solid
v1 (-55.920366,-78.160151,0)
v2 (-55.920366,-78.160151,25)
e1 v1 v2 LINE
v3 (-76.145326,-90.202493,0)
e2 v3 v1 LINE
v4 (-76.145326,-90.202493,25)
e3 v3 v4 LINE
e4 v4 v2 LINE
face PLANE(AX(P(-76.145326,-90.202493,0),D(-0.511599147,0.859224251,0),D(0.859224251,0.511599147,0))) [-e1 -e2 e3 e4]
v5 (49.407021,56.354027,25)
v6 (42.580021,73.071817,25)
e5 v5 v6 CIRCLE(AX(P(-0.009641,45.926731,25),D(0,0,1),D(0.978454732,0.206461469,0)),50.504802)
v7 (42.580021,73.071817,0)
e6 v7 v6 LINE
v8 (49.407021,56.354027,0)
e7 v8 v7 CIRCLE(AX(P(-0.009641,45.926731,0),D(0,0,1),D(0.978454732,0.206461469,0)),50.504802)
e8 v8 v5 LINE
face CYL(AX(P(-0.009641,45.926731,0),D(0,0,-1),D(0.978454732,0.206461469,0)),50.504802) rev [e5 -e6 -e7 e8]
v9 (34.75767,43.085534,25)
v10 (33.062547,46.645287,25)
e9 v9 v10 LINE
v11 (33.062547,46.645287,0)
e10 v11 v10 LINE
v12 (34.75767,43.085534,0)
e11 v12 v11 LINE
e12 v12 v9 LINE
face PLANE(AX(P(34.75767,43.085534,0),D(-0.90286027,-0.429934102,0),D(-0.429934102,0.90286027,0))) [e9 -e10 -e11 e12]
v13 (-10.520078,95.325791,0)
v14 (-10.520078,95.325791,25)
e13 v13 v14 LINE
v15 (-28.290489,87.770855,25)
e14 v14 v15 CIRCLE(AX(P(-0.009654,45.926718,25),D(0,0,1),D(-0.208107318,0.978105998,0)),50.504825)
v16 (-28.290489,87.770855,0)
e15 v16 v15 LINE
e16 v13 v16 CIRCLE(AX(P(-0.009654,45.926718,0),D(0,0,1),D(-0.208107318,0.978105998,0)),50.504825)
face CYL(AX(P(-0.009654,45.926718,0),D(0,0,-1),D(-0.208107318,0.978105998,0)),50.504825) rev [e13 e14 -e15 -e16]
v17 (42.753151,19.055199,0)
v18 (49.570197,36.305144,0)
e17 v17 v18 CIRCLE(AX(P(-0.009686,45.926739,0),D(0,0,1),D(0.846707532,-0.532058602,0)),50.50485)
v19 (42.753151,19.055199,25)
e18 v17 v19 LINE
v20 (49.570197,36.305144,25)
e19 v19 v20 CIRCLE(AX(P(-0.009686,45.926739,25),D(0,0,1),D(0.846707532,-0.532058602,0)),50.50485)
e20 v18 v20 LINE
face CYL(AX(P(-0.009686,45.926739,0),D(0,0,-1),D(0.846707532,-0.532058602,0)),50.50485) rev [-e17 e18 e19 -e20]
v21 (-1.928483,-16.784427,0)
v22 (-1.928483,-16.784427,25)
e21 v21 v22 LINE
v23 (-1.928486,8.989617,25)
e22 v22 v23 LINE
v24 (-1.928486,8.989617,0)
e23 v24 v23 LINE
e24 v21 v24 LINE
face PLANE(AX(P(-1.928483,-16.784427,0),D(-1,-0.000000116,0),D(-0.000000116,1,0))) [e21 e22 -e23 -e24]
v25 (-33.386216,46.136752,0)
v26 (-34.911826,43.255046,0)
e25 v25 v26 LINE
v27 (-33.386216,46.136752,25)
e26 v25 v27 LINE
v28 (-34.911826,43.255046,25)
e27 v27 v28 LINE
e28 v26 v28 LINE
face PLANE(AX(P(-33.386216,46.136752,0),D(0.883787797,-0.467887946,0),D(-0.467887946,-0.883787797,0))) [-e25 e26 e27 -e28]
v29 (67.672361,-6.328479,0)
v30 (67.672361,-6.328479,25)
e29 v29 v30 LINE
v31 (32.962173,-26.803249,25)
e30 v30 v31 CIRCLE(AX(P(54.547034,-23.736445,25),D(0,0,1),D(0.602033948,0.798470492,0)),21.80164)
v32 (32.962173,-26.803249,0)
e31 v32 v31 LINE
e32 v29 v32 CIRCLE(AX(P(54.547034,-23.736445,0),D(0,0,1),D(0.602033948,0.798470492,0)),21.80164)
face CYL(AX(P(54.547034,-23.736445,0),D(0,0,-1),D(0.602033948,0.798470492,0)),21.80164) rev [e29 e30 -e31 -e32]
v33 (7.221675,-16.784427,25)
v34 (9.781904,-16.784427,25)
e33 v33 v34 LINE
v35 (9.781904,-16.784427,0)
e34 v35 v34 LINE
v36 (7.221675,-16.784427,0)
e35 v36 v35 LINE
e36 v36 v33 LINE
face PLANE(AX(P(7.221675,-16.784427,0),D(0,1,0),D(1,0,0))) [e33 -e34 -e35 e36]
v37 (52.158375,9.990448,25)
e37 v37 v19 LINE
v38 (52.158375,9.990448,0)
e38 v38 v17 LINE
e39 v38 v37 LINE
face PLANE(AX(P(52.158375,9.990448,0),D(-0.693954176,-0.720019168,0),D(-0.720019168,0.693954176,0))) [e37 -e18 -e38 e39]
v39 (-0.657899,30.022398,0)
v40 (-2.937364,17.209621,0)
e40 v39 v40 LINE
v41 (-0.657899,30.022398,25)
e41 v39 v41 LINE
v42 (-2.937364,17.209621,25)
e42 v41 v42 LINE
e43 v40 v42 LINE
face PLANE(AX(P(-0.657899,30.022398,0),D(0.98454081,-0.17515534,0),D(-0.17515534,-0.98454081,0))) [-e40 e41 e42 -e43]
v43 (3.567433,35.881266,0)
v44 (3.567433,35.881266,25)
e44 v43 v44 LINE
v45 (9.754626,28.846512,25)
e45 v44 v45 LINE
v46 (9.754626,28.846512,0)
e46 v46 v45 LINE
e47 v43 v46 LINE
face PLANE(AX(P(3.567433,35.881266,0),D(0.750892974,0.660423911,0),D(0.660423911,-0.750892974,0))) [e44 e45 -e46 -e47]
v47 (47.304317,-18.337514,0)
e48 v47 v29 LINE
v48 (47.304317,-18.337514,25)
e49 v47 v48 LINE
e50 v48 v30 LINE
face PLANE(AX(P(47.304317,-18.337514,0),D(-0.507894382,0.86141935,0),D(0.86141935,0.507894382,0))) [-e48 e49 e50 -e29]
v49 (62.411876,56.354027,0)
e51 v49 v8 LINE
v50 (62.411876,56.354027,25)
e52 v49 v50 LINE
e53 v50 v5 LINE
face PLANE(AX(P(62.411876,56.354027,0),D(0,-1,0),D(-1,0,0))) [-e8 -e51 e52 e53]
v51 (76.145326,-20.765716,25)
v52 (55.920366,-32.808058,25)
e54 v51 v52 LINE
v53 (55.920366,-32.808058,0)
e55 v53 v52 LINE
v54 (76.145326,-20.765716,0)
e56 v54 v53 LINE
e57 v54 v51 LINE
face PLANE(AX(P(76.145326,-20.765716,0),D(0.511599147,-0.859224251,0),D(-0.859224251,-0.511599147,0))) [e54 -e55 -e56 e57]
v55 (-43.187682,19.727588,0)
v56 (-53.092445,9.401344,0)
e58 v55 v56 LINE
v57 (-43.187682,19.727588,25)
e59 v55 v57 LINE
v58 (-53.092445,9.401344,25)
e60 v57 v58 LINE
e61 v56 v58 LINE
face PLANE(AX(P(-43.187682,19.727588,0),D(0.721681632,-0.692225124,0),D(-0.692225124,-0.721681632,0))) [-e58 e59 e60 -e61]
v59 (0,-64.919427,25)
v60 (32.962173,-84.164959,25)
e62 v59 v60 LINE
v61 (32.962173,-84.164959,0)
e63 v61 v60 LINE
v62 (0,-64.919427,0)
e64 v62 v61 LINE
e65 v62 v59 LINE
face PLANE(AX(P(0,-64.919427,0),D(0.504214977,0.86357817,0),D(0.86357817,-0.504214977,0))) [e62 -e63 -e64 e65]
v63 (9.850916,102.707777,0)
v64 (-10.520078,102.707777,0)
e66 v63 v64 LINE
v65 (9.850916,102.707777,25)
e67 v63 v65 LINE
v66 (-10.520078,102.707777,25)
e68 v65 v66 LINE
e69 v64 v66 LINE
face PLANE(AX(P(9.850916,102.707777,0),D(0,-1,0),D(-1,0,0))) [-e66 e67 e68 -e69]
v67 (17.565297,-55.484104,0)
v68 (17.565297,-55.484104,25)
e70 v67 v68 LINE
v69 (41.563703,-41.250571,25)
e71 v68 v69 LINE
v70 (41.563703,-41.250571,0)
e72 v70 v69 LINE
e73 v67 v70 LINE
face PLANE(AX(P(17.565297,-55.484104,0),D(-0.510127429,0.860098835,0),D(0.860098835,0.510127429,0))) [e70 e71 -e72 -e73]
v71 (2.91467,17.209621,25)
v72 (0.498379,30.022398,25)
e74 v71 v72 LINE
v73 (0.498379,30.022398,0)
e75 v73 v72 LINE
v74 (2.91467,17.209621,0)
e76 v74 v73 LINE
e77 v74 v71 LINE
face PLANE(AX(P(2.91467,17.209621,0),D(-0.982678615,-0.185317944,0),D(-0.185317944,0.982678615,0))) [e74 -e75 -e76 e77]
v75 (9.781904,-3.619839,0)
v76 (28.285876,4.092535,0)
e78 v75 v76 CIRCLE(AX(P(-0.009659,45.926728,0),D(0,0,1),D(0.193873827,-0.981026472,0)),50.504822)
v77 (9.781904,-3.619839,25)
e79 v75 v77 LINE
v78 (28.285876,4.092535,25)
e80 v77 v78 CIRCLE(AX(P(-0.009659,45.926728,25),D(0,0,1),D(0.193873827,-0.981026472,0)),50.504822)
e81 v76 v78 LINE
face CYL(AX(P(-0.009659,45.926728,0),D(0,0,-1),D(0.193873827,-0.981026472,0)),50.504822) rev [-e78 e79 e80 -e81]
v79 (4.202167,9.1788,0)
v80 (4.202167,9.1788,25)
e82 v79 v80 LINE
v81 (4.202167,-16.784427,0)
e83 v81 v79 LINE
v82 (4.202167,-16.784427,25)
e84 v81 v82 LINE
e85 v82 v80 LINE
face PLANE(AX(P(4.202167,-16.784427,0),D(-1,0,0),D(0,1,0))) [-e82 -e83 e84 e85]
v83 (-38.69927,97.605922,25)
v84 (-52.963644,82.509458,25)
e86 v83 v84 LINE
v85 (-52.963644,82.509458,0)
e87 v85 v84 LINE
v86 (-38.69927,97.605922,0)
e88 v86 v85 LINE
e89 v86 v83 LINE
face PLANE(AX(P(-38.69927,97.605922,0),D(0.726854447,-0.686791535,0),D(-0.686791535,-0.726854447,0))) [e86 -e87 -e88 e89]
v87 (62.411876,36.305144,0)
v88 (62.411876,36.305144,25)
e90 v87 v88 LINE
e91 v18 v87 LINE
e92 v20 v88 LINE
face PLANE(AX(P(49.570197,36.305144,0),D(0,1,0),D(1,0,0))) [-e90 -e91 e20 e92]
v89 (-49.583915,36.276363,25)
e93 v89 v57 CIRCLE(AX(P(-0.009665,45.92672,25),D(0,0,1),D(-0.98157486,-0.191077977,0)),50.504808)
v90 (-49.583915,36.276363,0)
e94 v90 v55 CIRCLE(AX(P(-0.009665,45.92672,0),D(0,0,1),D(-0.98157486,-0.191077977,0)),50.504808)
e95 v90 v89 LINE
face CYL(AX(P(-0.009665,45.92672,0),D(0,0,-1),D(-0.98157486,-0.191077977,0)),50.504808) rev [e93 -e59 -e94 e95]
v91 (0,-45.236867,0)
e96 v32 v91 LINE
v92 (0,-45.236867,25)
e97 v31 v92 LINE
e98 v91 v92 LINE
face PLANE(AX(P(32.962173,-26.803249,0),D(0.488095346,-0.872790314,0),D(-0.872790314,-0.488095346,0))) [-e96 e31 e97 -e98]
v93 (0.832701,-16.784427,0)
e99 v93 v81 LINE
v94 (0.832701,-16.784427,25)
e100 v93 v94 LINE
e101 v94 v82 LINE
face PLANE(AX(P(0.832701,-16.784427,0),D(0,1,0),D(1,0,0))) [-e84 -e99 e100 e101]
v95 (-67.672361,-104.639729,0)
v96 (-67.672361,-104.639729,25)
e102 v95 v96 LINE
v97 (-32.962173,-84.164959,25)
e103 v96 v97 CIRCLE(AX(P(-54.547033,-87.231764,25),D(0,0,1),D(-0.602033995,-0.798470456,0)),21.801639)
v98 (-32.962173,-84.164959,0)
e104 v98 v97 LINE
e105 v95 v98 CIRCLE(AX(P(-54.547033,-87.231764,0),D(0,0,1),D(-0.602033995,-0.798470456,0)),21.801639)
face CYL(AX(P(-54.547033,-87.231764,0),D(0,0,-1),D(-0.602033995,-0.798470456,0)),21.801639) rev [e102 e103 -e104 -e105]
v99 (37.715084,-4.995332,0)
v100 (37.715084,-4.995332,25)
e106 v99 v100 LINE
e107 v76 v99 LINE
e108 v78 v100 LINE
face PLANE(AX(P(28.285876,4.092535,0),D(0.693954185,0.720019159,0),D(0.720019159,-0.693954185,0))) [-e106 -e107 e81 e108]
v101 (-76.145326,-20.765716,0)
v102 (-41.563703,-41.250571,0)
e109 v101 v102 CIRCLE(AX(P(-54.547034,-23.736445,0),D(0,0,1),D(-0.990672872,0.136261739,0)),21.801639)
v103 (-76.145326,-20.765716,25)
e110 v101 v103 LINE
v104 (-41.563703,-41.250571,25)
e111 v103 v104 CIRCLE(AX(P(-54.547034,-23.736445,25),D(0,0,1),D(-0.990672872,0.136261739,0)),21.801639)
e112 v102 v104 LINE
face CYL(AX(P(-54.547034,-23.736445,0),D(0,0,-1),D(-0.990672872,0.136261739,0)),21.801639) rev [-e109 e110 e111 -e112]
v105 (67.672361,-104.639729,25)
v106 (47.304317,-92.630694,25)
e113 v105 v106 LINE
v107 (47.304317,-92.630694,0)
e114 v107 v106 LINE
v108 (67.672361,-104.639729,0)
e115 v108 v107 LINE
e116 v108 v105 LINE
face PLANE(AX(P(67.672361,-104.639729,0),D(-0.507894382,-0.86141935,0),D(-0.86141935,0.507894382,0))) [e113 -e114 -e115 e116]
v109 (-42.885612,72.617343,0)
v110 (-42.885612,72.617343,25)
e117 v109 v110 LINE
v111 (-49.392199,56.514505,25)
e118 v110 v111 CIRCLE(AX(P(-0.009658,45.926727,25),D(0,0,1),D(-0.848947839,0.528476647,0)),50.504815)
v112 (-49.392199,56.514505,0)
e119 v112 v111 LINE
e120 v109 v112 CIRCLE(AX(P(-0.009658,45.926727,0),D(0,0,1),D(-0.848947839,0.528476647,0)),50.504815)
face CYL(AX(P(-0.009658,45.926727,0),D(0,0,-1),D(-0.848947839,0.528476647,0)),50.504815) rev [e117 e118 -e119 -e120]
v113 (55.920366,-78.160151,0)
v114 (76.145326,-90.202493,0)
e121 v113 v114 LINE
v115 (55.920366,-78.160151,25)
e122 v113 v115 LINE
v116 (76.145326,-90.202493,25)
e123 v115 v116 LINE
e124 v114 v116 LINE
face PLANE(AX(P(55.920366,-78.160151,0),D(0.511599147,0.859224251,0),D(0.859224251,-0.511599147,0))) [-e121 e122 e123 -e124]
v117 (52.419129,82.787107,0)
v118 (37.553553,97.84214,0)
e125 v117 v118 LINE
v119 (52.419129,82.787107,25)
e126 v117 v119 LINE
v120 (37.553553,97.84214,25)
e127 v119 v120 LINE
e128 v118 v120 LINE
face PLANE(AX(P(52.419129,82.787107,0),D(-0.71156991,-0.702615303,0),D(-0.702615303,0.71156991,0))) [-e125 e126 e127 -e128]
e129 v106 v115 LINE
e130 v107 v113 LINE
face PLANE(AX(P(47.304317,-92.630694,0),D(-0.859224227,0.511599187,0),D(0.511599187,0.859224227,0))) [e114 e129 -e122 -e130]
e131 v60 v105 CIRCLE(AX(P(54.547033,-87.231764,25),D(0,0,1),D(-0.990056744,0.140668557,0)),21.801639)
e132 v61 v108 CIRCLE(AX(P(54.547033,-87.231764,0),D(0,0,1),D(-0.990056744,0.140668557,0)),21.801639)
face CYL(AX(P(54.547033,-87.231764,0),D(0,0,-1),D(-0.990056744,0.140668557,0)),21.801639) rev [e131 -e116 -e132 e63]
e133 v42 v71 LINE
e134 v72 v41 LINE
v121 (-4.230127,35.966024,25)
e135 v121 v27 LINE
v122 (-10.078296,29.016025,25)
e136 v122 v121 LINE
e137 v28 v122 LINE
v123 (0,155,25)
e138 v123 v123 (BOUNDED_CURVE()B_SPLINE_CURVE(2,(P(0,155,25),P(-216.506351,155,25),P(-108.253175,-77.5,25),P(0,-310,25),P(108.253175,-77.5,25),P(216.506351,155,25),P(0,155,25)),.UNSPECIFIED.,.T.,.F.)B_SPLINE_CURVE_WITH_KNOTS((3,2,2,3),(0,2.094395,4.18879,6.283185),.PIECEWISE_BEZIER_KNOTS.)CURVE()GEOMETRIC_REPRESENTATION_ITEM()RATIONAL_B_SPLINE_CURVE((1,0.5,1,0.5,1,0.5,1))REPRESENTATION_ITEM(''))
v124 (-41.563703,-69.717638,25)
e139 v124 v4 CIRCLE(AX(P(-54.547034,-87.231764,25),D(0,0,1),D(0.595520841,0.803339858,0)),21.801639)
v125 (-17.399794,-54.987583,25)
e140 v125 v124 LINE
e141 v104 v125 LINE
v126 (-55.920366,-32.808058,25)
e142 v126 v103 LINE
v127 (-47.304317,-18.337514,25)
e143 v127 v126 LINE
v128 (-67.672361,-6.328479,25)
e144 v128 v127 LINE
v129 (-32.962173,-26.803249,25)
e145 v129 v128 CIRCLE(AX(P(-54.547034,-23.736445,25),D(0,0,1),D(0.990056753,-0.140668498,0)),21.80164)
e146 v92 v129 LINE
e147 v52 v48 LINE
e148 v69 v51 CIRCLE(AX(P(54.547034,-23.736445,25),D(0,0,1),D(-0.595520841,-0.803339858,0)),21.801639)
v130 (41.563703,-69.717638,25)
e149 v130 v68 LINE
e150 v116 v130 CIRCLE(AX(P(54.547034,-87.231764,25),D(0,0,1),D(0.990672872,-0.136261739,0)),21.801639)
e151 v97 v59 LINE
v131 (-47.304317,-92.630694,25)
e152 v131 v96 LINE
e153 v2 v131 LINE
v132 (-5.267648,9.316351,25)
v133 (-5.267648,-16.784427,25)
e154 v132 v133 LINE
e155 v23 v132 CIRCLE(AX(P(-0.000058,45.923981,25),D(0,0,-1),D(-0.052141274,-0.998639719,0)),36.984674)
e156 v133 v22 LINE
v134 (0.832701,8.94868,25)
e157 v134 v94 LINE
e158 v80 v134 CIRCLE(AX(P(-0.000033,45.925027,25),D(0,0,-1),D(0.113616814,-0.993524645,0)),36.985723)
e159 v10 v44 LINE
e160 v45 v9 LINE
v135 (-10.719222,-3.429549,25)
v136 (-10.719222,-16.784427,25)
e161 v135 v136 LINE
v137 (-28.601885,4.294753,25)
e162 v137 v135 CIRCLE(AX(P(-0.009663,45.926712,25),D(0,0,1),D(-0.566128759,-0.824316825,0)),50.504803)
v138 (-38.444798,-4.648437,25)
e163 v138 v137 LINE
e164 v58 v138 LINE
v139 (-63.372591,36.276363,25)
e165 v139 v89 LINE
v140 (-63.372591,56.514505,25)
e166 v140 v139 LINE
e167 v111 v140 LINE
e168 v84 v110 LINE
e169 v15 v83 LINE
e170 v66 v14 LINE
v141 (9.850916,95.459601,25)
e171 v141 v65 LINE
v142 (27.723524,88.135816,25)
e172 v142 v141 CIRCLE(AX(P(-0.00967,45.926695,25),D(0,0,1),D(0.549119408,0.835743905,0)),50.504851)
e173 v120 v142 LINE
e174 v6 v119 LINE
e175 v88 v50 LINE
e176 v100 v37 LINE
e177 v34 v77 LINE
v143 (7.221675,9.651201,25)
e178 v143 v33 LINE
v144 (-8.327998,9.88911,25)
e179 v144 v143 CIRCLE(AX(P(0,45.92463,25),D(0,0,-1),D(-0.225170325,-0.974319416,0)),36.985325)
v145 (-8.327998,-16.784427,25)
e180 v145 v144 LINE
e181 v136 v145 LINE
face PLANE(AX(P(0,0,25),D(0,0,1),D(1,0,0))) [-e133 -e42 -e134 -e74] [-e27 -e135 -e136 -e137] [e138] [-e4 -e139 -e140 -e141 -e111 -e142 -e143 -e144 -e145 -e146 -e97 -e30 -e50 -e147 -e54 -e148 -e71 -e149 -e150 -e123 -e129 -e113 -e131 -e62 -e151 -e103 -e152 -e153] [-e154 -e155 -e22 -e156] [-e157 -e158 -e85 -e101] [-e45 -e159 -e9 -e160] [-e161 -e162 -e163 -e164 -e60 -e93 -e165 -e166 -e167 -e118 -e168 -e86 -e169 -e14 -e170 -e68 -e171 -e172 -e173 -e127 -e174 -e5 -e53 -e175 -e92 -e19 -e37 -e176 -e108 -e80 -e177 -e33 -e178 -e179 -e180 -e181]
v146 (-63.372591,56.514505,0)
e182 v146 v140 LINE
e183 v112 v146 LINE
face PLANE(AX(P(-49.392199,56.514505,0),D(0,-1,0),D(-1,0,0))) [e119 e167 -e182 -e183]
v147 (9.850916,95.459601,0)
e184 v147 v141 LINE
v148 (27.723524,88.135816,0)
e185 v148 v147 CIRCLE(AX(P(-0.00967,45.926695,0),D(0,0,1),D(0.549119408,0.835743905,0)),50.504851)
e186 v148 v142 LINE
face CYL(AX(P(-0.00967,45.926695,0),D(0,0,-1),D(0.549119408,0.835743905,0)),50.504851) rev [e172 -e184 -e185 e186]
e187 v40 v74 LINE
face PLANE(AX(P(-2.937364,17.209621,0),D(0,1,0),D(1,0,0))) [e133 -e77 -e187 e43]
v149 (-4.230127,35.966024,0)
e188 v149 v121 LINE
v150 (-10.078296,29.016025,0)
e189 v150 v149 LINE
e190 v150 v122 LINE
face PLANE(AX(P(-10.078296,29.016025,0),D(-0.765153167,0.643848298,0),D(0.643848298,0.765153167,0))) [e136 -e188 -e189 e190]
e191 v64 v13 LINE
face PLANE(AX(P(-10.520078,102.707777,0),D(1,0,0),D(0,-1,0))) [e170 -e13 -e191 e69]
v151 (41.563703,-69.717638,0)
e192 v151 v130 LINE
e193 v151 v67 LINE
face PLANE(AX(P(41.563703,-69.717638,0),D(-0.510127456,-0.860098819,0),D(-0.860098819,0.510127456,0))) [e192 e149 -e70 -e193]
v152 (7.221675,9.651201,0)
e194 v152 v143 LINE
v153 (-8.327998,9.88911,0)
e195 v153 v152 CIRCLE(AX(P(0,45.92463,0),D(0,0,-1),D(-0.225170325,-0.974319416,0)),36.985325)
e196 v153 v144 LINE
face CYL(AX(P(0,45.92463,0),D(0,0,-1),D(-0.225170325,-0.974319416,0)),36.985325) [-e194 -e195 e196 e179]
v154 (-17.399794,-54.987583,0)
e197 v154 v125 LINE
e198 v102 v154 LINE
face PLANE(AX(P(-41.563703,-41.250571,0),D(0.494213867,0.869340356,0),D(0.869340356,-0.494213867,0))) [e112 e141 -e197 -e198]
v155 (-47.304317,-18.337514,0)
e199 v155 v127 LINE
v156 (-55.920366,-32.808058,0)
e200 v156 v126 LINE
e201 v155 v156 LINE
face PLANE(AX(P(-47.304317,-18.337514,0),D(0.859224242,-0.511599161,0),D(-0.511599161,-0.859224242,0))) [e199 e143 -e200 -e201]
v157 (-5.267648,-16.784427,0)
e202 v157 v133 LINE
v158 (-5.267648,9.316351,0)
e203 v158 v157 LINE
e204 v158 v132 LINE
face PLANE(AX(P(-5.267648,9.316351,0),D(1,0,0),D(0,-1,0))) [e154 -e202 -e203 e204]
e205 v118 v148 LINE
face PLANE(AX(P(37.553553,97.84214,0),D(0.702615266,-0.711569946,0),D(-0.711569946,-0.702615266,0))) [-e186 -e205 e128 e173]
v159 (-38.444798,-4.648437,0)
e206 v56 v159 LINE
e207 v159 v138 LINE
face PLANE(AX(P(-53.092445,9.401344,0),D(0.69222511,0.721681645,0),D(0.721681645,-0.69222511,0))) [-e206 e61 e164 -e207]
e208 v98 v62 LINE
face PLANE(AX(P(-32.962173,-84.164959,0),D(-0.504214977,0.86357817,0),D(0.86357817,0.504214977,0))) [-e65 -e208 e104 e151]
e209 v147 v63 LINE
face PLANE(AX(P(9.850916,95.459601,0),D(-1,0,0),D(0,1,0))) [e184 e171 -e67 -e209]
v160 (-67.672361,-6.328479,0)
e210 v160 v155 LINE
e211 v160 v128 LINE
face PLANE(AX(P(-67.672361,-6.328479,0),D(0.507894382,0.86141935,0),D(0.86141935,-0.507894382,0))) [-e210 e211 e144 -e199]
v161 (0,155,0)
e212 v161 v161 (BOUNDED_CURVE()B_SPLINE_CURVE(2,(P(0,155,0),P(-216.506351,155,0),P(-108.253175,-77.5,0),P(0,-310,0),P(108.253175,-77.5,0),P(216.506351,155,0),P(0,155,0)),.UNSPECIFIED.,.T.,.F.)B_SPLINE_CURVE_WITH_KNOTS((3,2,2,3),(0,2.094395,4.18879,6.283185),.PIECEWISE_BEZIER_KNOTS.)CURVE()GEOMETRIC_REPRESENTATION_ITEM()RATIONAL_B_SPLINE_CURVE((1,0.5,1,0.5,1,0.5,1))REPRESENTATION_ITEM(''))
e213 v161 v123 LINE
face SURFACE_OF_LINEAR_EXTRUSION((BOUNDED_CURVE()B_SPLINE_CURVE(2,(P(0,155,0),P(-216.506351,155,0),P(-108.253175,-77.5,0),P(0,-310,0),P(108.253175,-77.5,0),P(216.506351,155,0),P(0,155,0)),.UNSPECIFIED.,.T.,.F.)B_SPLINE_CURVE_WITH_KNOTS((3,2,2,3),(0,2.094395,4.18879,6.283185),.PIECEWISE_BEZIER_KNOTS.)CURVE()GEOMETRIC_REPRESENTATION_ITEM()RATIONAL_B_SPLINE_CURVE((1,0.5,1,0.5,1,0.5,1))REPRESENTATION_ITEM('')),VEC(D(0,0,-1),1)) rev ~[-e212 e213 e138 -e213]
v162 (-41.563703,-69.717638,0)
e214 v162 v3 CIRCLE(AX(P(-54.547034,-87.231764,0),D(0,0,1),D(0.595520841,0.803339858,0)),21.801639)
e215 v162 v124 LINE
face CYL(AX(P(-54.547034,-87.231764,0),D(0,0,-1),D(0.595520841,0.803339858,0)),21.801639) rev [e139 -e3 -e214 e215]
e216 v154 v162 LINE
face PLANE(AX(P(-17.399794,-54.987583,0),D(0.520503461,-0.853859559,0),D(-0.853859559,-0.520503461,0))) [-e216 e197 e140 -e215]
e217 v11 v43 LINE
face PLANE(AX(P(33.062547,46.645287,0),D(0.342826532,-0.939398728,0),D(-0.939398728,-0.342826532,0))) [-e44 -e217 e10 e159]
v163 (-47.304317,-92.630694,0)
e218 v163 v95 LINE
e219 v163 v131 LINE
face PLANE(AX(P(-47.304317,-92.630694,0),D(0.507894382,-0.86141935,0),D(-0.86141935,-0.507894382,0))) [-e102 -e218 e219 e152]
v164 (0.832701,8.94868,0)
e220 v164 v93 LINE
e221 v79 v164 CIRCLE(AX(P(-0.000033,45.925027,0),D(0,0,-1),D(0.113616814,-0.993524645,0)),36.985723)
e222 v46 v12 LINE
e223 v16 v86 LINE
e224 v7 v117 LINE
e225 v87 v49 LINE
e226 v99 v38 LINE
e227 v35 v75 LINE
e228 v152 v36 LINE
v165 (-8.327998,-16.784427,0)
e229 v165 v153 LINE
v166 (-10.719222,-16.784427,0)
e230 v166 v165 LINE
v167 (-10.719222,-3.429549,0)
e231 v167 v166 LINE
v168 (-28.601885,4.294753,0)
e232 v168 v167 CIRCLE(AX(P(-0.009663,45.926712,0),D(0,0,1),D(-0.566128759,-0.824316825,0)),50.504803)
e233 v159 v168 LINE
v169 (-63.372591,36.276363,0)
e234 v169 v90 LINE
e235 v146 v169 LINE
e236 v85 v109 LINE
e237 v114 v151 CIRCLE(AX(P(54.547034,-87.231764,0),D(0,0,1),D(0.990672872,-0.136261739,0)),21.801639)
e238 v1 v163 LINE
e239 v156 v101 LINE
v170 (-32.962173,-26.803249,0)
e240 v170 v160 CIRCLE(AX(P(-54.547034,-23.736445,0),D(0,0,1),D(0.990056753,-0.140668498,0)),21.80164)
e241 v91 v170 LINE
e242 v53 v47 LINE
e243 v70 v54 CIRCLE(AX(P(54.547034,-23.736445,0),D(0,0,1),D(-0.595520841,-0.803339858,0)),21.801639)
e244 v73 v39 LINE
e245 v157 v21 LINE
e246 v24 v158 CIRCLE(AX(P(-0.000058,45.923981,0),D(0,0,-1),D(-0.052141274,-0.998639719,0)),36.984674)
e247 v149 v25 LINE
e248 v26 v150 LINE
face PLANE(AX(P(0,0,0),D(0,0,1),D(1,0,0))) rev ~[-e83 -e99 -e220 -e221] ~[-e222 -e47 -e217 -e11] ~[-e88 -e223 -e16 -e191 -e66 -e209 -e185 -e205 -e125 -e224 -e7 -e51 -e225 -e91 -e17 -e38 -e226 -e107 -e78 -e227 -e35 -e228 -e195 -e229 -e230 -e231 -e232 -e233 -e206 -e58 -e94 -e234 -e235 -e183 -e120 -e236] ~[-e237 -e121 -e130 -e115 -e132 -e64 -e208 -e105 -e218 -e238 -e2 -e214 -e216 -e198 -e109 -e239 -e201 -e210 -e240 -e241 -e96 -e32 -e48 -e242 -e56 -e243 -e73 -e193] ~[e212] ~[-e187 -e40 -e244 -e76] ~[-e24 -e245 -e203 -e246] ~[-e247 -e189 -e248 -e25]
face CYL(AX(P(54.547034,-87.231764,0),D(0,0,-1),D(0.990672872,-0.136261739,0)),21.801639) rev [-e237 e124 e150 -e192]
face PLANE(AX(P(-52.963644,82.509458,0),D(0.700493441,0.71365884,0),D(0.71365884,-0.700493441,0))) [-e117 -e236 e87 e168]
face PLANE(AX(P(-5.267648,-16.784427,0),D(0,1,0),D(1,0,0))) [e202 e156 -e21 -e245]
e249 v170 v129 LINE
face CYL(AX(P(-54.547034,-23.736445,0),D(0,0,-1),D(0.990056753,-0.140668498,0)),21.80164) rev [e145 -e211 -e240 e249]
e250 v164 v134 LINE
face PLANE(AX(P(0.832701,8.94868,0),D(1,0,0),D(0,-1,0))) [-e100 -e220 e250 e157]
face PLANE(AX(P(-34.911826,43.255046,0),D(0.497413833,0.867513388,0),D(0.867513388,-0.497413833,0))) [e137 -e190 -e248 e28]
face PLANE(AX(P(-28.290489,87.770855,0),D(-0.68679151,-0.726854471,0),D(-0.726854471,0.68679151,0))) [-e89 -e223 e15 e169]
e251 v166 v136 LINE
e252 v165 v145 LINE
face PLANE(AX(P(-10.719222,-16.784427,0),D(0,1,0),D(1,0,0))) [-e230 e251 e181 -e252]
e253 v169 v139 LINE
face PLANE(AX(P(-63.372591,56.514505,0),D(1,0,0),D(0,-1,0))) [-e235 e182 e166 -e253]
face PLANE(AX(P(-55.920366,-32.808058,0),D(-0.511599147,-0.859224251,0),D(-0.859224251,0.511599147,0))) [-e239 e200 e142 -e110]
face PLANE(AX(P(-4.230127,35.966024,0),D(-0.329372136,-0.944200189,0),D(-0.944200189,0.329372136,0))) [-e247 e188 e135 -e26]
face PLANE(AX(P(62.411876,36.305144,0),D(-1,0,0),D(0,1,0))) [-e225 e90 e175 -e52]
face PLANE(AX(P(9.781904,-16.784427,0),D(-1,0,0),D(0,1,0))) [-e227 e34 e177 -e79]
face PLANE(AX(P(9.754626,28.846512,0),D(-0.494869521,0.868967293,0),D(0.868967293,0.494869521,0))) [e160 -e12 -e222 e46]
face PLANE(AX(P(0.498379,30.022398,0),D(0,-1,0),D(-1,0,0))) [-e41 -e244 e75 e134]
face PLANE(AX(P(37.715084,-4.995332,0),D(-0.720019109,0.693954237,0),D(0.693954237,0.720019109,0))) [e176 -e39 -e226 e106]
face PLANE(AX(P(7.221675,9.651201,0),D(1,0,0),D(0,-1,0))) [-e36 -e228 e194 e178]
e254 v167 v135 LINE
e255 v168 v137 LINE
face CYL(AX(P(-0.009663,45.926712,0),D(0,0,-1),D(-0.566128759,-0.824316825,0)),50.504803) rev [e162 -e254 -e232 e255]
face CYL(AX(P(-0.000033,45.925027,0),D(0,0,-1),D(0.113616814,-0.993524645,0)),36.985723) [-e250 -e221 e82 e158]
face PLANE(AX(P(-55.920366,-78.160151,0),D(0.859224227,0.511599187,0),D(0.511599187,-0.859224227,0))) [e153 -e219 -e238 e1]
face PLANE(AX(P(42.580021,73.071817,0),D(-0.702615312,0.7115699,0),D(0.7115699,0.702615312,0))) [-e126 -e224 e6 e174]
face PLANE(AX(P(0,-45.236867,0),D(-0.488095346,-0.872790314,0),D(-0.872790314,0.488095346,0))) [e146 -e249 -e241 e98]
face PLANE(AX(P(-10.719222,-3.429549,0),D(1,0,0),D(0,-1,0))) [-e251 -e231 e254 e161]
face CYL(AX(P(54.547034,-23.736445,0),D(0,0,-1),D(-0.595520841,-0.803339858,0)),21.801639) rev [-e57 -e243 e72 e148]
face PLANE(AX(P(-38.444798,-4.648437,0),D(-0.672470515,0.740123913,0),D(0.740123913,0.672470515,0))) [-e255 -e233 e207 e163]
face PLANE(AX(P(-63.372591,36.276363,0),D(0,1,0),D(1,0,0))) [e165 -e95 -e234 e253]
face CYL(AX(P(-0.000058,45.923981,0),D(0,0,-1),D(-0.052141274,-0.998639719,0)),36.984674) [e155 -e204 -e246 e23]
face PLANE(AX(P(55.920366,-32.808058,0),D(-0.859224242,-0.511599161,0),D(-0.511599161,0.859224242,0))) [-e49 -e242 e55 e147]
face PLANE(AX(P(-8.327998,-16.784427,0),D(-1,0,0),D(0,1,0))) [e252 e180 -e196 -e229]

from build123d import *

# Parameters (mm, degrees)
F1_DEPTH = 25
F3_DEPTH = 25


with BuildPart() as f1:
    # F0 (on Top) → F1 (new body)
    with BuildSketch(Plane.XY):
        with BuildLine():
            Line((-10.520078, 102.707777), (-10.520078, 95.325791))
            ThreePointArc((-10.520078, 95.325791), (-19.769707, 92.405506), (-28.290489, 87.770855))
            Line((-28.290489, 87.770855), (-38.69927, 97.605922))
            Line((-38.69927, 97.605922), (-52.963644, 82.509458))
            Line((-52.963644, 82.509458), (-42.885612, 72.617343))
            ThreePointArc((-42.885612, 72.617343), (-46.836283, 64.84771), (-49.392199, 56.514505))
            Line((-49.392199, 56.514505), (-63.372591, 56.514505))
            Line((-63.372591, 56.514505), (-63.372591, 36.276363))
            Line((-63.372591, 36.276363), (-49.583915, 36.276363))
            ThreePointArc((-49.583915, 36.276363), (-47.11817, 27.718908), (-43.187682, 19.727588))
            Line((-43.187682, 19.727588), (-53.092445, 9.401344))
            Line((-53.092445, 9.401344), (-38.444798, -4.648437))
            Line((-38.444798, -4.648437), (-28.601885, 4.294753))
            ThreePointArc((-28.601885, 4.294753), (-20.036487, -0.43773), (-10.719222, -3.429549))
            Line((-10.719222, -3.429549), (-10.719222, -16.784427))
            Line((-10.719222, -16.784427), (-8.327998, -16.784427))
            Line((-8.327998, -16.784427), (-8.327998, 9.88911))
            ThreePointArc((-8.327998, 9.88911), (0.565807, 82.905627), (7.221675, 9.651201))
            Line((7.221675, 9.651201), (7.221675, -16.784427))
            Line((7.221675, -16.784427), (9.781904, -16.784427))
            Line((9.781904, -16.784427), (9.781904, -3.619839))
            ThreePointArc((9.781904, -3.619839), (19.420394, -0.690973), (28.285876, 4.092535))
            Line((28.285876, 4.092535), (37.715084, -4.995332))
            Line((37.715084, -4.995332), (52.158375, 9.990448))
            Line((52.158375, 9.990448), (42.753151, 19.055199))
            ThreePointArc((42.753151, 19.055199), (46.960354, 27.36454), (49.570197, 36.305144))
            Line((49.570197, 36.305144), (62.411876, 36.305144))
            Line((62.411876, 36.305144), (62.411876, 56.354027))
            Line((62.411876, 56.354027), (49.407021, 56.354027))
            ThreePointArc((49.407021, 56.354027), (46.746771, 65.020524), (42.580021, 73.071817))
            Line((42.580021, 73.071817), (52.419129, 82.787107))
            Line((52.419129, 82.787107), (37.553553, 97.84214))
            Line((37.553553, 97.84214), (27.723524, 88.135816))
            ThreePointArc((27.723524, 88.135816), (19.140592, 92.66006), (9.850916, 95.459601))
            Line((9.850916, 95.459601), (9.850916, 102.707777))
            Line((9.850916, 102.707777), (-10.520078, 102.707777))
        make_face()
        Polygon((-33.386216, 46.136752), (-34.911826, 43.255046), (-10.078296, 29.016025), (-4.230127, 35.966024), align=None)
        Polygon((33.062547, 46.645287), (3.567433, 35.881266), (9.754626, 28.846512), (34.75767, 43.085534), align=None)
        Polygon((-0.657899, 30.022398), (-2.937364, 17.209621), (2.91467, 17.209621), (0.498379, 30.022398), align=None)
        with BuildLine():
            ThreePointArc((4.202167, 9.1788), (2.520062, 9.02526), (0.832701, 8.94868))
            Line((0.832701, 8.94868), (0.832701, -16.784427))
            Line((0.832701, -16.784427), (4.202167, -16.784427))
            Line((4.202167, -16.784427), (4.202167, 9.1788))
        make_face()
        with BuildLine():
            ThreePointArc((-1.928486, 8.989617), (-3.601774, 9.1151), (-5.267648, 9.316351))
            Line((-5.267648, 9.316351), (-5.267648, -16.784427))
            Line((-5.267648, -16.784427), (-1.928483, -16.784427))
            Line((-1.928483, -16.784427), (-1.928486, 8.989617))
        make_face()
        with BuildLine():
            ThreePointArc((67.672361, -6.328479), (43.470257, -4.958359), (32.962173, -26.803249))
            Line((32.962173, -26.803249), (0, -45.236867))
            Line((0, -45.236867), (-32.962173, -26.803249))
            ThreePointArc((-32.962173, -26.803249), (-43.470257, -4.958359), (-67.672361, -6.328479))
            Line((-67.672361, -6.328479), (-47.304317, -18.337514))
            Line((-47.304317, -18.337514), (-55.920366, -32.808058))
            Line((-55.920366, -32.808058), (-76.145326, -20.765716))
            ThreePointArc((-76.145326, -20.765716), (-65.658366, -42.494104), (-41.563703, -41.250571))
            Line((-41.563703, -41.250571), (-17.399794, -54.987583))
            Line((-17.399794, -54.987583), (-41.563703, -69.717638))
            ThreePointArc((-41.563703, -69.717638), (-65.658366, -68.474105), (-76.145326, -90.202493))
            Line((-76.145326, -90.202493), (-55.920366, -78.160151))
            Line((-55.920366, -78.160151), (-47.304317, -92.630694))
            Line((-47.304317, -92.630694), (-67.672361, -104.639729))
            ThreePointArc((-67.672361, -104.639729), (-43.470257, -106.00985), (-32.962173, -84.164959))
            Line((-32.962173, -84.164959), (0, -64.919427))
            Line((0, -64.919427), (32.962173, -84.164959))
            ThreePointArc((32.962173, -84.164959), (43.470257, -106.00985), (67.672361, -104.639729))
            Line((67.672361, -104.639729), (47.304317, -92.630694))
            Line((47.304317, -92.630694), (55.920366, -78.160151))
            Line((55.920366, -78.160151), (76.145326, -90.202493))
            ThreePointArc((76.145326, -90.202493), (65.658366, -68.474105), (41.563703, -69.717638))
            Line((41.563703, -69.717638), (17.565297, -55.484104))
            Line((17.565297, -55.484104), (41.563703, -41.250571))
            ThreePointArc((41.563703, -41.250571), (65.658366, -42.494104), (76.145326, -20.765716))
            Line((76.145326, -20.765716), (55.920366, -32.808058))
            Line((55.920366, -32.808058), (47.304317, -18.337514))
            Line((47.304317, -18.337514), (67.672361, -6.328479))
        make_face()
    extrude(amount=F1_DEPTH)


with BuildPart() as f3:
    # F2 (on Top) → F3 (new body)
    with BuildSketch(Plane.XY):
        with BuildLine():
            add(Edge.make_bspline(
                [(0, 155), (-216.506351, 155), (-108.253175, -77.5), (0, -310), (108.253175, -77.5), (216.506351, 155), (0, 155)],
                knots=[0, 0, 0, 2.094395, 2.094395, 4.18879, 4.18879, 6.283185, 6.283185, 6.283185], degree=2, weights=[1, 0.5, 1, 0.5, 1, 0.5, 1]))
        make_face()
    extrude(amount=F3_DEPTH)

    # F4: cut F1
    add(f1.part, mode=Mode.SUBTRACT)


solid = f3.part
